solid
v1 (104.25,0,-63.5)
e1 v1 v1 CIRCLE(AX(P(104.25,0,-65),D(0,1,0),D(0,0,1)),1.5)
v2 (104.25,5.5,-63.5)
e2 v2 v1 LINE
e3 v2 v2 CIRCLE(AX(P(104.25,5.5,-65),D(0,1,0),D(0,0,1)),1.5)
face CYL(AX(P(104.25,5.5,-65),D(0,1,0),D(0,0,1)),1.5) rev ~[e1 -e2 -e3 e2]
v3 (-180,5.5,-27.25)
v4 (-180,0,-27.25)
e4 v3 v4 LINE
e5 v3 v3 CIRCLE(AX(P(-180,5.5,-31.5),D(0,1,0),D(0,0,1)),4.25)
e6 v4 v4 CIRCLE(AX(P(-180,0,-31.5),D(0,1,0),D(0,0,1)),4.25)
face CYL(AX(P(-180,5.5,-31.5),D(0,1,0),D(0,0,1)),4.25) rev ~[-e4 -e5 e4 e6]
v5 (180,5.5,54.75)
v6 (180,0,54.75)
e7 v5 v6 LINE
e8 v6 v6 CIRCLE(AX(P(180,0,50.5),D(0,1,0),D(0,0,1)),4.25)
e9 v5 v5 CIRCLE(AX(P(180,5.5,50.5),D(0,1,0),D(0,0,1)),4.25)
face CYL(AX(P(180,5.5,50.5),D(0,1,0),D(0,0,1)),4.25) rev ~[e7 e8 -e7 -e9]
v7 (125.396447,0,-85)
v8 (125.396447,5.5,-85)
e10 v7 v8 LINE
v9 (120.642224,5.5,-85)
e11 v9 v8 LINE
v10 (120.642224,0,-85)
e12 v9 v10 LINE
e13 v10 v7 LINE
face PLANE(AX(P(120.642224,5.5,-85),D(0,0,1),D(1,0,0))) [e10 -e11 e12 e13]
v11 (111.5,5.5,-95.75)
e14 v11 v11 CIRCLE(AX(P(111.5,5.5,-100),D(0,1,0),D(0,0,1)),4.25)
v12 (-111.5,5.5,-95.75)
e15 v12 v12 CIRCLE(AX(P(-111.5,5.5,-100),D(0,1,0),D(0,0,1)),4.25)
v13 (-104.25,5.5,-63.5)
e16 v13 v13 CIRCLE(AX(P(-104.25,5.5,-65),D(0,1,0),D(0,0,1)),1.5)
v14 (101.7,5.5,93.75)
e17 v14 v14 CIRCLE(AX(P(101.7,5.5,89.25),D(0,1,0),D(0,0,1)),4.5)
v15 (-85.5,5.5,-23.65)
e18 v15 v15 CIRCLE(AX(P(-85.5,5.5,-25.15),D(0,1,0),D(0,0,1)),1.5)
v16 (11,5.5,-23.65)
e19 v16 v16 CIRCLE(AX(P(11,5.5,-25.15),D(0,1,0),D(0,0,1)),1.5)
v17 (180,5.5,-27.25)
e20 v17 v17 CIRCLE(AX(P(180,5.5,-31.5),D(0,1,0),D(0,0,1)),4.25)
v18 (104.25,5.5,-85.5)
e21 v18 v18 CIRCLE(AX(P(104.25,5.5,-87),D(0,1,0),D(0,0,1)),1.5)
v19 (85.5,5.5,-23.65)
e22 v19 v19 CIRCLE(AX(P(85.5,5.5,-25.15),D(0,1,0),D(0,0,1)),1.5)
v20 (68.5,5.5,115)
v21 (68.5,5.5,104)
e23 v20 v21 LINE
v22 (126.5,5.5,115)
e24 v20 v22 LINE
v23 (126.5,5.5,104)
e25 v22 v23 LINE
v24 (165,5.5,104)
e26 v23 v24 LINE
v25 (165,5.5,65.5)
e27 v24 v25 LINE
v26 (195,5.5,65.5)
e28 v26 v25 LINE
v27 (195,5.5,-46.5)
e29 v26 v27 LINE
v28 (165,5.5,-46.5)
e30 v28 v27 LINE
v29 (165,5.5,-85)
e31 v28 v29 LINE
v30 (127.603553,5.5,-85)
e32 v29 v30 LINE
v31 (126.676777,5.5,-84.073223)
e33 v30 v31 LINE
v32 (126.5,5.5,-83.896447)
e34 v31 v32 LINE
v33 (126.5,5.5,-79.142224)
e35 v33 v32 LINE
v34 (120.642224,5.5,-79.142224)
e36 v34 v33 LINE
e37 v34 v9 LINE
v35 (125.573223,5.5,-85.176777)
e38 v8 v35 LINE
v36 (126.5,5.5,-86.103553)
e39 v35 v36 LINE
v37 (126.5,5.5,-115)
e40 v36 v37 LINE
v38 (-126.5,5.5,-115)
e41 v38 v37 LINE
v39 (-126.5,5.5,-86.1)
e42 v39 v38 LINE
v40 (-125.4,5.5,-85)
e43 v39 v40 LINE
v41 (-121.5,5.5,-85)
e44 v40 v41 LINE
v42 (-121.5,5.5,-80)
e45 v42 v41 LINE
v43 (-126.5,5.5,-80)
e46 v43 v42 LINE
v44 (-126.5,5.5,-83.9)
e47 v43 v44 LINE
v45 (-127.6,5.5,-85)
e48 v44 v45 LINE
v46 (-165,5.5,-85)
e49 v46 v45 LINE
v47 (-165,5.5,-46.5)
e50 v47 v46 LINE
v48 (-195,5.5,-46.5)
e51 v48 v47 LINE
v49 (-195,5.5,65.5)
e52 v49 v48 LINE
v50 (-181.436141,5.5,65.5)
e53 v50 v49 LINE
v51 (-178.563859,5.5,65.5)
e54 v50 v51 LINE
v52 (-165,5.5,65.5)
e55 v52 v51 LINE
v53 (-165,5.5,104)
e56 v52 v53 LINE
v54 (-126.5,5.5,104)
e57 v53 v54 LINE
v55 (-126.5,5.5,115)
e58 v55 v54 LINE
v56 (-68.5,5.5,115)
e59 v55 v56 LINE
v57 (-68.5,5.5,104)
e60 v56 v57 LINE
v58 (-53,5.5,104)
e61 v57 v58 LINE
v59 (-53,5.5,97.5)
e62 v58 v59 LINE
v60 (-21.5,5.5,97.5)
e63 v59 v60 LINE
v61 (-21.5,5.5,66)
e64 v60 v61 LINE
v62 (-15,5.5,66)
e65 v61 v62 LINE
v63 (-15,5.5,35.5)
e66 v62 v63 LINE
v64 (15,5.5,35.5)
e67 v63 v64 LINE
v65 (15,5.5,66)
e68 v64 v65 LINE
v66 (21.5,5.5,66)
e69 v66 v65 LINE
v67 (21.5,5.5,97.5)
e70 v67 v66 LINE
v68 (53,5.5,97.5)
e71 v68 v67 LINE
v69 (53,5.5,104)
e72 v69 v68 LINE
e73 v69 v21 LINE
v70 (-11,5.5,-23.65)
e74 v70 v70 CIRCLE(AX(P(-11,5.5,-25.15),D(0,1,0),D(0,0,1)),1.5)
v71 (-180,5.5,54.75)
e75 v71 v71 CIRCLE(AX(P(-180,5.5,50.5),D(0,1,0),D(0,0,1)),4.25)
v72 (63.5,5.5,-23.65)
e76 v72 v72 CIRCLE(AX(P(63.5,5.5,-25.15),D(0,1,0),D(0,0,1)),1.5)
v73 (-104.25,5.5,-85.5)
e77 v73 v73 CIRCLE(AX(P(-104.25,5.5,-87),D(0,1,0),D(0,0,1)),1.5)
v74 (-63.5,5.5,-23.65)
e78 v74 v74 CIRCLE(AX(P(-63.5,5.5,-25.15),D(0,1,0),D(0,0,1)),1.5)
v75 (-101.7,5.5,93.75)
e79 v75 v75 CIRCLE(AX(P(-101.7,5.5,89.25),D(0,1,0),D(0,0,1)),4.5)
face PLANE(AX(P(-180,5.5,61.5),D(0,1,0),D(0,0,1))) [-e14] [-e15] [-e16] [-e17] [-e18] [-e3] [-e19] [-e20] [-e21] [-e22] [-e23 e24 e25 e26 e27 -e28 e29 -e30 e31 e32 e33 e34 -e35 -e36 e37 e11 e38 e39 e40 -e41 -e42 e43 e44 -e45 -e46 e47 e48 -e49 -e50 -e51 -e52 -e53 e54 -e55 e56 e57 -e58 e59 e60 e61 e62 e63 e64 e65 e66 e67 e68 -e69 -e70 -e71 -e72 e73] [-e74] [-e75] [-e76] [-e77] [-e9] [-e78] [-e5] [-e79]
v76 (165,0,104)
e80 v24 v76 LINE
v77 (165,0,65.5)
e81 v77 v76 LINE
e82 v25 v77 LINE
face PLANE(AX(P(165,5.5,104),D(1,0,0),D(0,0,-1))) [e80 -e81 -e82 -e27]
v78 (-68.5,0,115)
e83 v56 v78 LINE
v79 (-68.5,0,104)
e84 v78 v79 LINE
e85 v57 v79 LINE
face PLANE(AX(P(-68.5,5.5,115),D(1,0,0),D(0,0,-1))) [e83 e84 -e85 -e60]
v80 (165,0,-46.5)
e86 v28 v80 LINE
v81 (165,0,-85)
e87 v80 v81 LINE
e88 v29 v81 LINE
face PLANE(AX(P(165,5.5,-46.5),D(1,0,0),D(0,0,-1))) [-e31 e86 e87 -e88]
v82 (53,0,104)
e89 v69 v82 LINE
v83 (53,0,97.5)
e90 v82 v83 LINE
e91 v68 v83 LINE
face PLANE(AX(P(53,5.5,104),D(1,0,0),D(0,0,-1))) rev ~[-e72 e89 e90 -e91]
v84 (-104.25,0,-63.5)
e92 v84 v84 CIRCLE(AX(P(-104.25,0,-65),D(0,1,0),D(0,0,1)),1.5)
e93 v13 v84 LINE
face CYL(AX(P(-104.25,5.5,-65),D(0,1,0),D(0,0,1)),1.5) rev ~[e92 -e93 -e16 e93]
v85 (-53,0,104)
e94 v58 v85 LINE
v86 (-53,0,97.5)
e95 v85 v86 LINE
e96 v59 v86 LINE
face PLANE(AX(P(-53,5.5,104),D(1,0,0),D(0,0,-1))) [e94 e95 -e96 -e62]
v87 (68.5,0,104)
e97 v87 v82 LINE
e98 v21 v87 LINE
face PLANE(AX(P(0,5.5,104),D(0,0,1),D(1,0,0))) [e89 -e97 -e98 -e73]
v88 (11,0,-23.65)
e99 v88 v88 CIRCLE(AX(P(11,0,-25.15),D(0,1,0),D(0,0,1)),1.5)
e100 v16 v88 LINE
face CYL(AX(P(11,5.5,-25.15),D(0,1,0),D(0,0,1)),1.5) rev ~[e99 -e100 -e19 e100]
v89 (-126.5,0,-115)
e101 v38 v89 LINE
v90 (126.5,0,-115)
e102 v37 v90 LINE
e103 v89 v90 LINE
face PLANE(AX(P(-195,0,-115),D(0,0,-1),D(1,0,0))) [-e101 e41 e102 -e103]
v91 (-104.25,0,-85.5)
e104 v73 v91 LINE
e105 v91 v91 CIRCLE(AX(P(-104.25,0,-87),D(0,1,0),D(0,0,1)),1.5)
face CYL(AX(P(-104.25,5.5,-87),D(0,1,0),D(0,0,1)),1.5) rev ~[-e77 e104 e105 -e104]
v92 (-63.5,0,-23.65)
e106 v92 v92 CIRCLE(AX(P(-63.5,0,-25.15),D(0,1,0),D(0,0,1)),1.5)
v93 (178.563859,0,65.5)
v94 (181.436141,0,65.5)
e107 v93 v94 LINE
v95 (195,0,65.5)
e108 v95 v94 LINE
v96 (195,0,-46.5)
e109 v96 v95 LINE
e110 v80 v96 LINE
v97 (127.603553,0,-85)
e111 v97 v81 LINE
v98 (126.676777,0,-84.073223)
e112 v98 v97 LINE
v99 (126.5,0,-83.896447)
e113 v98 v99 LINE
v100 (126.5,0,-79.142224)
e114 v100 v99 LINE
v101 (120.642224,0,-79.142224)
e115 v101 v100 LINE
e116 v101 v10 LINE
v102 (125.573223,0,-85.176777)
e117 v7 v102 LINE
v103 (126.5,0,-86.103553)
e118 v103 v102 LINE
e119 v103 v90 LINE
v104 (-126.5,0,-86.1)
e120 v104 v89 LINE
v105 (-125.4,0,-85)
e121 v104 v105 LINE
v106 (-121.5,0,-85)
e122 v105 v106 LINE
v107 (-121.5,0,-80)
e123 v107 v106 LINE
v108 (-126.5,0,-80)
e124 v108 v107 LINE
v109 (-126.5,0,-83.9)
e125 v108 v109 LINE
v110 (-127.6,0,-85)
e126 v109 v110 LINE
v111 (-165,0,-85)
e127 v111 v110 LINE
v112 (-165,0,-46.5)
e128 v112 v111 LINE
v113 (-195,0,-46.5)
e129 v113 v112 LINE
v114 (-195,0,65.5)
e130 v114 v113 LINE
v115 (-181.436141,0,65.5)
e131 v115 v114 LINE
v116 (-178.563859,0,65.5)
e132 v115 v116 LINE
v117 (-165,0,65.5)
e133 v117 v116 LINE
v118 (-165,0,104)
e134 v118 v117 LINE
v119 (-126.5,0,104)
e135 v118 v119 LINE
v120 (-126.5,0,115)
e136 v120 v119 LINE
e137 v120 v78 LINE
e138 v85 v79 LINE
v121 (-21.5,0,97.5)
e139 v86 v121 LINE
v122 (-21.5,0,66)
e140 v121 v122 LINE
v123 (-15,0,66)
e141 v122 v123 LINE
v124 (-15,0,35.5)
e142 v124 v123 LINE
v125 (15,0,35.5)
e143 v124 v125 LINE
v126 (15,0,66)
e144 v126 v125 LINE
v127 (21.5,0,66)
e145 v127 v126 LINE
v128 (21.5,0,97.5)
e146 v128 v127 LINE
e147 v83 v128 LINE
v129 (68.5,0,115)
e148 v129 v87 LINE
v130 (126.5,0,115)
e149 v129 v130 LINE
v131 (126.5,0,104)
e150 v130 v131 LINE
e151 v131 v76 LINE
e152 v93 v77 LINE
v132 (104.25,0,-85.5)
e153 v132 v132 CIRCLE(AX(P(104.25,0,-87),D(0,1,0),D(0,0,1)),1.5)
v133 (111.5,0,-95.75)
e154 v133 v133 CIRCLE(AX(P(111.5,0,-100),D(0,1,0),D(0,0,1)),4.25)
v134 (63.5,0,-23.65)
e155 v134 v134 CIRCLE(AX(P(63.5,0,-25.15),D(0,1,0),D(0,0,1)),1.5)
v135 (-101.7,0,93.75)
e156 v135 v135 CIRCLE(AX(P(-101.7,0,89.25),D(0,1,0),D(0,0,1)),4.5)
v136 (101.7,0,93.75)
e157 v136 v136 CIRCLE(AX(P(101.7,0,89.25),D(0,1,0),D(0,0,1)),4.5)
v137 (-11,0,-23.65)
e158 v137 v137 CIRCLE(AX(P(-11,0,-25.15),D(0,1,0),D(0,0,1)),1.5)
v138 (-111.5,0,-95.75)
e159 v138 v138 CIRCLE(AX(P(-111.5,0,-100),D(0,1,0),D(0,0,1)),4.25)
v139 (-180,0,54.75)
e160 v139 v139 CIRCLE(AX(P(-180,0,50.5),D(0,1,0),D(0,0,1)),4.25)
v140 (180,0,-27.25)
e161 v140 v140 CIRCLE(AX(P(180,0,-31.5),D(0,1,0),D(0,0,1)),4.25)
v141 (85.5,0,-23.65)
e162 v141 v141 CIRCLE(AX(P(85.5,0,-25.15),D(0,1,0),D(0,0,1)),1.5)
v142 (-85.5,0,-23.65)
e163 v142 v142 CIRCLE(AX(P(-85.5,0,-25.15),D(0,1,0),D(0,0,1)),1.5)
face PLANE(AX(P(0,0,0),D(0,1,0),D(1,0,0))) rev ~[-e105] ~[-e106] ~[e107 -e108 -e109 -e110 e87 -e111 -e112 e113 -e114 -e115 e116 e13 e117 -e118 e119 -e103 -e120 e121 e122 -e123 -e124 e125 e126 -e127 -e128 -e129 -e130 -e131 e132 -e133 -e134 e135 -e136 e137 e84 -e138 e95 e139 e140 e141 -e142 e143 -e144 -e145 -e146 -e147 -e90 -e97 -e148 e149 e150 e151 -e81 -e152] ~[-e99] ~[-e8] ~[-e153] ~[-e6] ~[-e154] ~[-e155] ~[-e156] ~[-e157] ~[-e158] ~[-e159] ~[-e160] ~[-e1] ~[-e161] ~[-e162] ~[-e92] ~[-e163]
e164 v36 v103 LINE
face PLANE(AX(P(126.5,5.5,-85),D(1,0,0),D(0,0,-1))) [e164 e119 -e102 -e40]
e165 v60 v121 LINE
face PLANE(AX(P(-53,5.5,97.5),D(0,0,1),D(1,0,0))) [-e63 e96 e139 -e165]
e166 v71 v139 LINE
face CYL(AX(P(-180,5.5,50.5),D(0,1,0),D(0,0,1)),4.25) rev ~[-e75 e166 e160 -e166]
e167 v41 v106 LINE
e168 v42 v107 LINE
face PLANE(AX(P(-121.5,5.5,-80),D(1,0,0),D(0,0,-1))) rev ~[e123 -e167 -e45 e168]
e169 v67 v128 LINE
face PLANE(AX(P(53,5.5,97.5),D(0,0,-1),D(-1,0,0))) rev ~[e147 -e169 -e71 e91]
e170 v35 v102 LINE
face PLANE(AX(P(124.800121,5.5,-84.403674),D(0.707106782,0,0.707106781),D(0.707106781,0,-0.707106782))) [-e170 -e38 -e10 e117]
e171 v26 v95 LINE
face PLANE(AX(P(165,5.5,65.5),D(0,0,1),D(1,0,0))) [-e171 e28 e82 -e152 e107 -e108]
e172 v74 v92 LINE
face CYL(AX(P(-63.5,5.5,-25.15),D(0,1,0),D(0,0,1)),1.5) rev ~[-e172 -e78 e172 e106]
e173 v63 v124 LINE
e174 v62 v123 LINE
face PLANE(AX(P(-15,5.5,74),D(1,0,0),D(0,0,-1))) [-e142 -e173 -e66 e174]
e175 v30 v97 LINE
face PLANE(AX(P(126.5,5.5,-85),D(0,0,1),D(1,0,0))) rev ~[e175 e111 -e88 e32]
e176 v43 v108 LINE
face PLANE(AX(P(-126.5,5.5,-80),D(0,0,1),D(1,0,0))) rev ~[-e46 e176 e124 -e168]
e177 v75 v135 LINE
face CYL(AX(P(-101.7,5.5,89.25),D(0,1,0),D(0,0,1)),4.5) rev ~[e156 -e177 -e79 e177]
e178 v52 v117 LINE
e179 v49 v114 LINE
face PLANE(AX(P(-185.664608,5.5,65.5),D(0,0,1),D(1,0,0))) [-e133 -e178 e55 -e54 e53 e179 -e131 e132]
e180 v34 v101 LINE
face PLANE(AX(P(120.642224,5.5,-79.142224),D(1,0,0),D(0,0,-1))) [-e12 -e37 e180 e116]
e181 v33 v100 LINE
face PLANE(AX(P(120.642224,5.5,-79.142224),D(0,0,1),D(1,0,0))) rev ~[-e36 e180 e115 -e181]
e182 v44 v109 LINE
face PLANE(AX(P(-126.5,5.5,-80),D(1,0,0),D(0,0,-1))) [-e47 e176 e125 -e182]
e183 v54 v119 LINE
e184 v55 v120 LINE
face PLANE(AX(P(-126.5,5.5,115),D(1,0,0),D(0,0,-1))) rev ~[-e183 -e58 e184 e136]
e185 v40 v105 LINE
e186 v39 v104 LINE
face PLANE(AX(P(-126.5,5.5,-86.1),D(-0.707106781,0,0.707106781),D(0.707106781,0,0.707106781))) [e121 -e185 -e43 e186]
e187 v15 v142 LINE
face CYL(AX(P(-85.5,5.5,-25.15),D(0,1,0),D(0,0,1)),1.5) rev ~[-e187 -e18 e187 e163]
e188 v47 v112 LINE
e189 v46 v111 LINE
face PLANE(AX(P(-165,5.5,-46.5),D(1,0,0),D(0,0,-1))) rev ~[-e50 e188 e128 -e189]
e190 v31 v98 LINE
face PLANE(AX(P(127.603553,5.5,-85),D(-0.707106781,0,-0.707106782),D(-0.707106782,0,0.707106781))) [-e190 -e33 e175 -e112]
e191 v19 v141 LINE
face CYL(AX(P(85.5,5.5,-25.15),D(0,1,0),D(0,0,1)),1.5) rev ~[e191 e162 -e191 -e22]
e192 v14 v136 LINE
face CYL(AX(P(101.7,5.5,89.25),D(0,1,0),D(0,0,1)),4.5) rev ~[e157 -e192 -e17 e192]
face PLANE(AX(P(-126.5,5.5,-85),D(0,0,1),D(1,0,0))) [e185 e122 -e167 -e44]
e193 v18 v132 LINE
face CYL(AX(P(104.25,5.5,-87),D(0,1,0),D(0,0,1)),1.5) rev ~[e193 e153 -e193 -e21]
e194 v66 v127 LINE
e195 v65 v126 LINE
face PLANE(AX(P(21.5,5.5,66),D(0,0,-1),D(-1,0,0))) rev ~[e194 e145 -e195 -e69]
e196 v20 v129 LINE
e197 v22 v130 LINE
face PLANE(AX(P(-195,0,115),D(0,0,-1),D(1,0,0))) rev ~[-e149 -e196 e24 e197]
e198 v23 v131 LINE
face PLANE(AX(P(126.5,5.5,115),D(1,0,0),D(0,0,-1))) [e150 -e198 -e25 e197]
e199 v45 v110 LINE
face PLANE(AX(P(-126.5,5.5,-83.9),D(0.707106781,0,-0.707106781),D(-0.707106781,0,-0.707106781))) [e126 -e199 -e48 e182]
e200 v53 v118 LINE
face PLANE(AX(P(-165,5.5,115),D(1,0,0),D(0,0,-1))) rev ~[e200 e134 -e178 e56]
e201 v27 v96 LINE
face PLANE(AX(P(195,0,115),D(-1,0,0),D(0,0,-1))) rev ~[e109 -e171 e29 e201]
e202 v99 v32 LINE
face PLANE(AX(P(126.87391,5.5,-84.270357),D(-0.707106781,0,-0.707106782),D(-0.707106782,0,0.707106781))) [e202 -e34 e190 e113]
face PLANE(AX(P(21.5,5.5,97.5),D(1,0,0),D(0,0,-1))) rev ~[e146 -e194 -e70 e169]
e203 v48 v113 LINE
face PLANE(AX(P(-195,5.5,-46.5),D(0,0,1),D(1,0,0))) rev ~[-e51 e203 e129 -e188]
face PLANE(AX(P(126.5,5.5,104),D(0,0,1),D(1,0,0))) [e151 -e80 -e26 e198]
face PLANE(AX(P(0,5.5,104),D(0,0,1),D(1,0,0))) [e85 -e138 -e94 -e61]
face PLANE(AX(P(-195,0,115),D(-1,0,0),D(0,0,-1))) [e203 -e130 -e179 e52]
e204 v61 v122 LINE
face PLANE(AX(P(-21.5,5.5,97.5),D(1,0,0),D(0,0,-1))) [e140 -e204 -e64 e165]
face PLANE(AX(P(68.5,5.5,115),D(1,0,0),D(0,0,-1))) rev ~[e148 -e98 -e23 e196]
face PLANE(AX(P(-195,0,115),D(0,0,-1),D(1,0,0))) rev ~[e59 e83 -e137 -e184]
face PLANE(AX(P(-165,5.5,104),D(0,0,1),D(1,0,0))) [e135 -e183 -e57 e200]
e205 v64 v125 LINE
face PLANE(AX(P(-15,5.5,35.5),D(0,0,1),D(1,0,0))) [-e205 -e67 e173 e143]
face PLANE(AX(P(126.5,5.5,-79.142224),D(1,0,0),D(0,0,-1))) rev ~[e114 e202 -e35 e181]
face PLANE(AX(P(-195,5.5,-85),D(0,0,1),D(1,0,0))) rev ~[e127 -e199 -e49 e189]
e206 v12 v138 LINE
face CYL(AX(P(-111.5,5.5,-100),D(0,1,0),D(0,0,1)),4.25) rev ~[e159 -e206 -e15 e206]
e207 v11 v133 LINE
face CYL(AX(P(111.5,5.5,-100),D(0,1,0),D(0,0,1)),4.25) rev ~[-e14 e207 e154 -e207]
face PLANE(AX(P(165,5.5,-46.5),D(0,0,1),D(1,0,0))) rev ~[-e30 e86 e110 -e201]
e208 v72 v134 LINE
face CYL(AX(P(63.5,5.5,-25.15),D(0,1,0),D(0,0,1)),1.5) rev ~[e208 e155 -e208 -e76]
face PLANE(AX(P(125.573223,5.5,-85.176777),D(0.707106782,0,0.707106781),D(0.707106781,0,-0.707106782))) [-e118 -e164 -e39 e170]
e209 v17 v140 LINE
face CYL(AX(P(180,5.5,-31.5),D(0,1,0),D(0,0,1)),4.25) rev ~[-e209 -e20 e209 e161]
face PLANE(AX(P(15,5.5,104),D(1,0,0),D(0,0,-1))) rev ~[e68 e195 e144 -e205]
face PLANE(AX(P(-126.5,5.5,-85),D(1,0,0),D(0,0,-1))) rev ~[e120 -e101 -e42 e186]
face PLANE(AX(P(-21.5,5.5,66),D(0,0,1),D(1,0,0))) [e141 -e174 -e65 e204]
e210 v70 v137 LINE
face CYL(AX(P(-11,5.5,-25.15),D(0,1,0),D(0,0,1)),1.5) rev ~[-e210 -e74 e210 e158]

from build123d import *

# Parameters (mm, degrees)
CROQUIS1_W              = 390
CROQUIS1_H              = 230
SALIENTE_EXTRUIR1_DEPTH = 5.5
CROQUIS2_W              = 30
CROQUIS2_H              = 30
CORTAR_EXTRUIR1_DEPTH   = 5.5
CROQUIS3_W              = 38.5
CROQUIS3_H              = 30
CORTAR_EXTRUIR2_DEPTH   = 5.5
CROQUIS4_W              = 30
CROQUIS4_H              = 38.5
CORTAR_EXTRUIR3_DEPTH   = 5.5
CROQUIS5_W              = 30
CROQUIS5_H              = 38.5
CORTAR_EXTRUIR4_DEPTH   = 5.5
CROQUIS6_W              = 68.5
CROQUIS6_H              = 11
CORTAR_EXTRUIR5_DEPTH   = 5.5
CROQUIS7_W              = 68.5
CROQUIS7_H              = 11
CORTAR_EXTRUIR6_DEPTH   = 5.5
CROQUIS8_W              = 30
CROQUIS8_H              = 30
CORTAR_EXTRUIR7_DEPTH   = 5.5
CROQUIS9_W              = 30
CROQUIS9_H              = 38.5
CORTAR_EXTRUIR8_DEPTH   = 5.5
CROQUIS10_R             = 4.25
CORTAR_EXTRUIR9_DEPTH   = 5.5
CORTAR_EXTRUIR10_DEPTH  = 5.5
CORTAR_EXTRUIR11_DEPTH  = 5.5
CROQUIS13_W             = 5.857775835
CROQUIS13_H             = 5.857775835
CORTAR_EXTRUIR12_DEPTH  = 5.5
CORTAR_EXTRUIR13_DEPTH  = 5.5
CORTAR_EXTRUIR14_DEPTH  = 5.5
CROQUIS16_W             = 5
CROQUIS16_H             = 5
CORTAR_EXTRUIR15_DEPTH  = 5.5
CROQUIS17_R             = 4.5
CORTAR_EXTRUIR16_DEPTH  = 10
CORTAR_EXTRUIR17_DEPTH  = 10
CROQUIS19_R             = 1.5
CORTAR_EXTRUIR19_DEPTH  = 10
CROQUIS20_W             = 30
CROQUIS20_H             = 38.5
CORTAR_EXTRUIR20_DEPTH  = 10
CROQUIS21_R             = 4.25
CORTAR_EXTRUIR21_DEPTH  = 10
CROQUIS22_R             = 4.25
SALIENTE_EXTRUIR2_DEPTH = 10
CROQUIS23_W             = 8.291515613
CROQUIS23_H             = 2.906343814
CROQUIS23_W_2           = 14.865311346
CROQUIS23_H_2           = 4.543446559
CORTAR_EXTRUIR22_DEPTH  = 10
CROQUIS24_W             = 38.5
CROQUIS24_H             = 11
CORTAR_EXTRUIR23_DEPTH  = 10
CROQUIS25_W             = 38.5
CROQUIS25_H             = 11
CORTAR_EXTRUIR24_DEPTH  = 10
CROQUIS26_W             = 403.89450598
CROQUIS26_H             = 21.330606429
CORTAR_EXTRUIR25_DEPTH  = 10


with BuildPart() as part:
    # Croquis1 → Saliente-Extruir1 (new body)
    with BuildSketch(Plane(origin=(0, 0, 0), x_dir=(1, 0, 0), z_dir=(0, 1, 0))):
        Rectangle(CROQUIS1_W, CROQUIS1_H)
    extrude(amount=SALIENTE_EXTRUIR1_DEPTH)

    # Croquis2 → Cortar-Extruir1 (cut)
    with BuildSketch(Plane(origin=(0, 5.5, 0), x_dir=(1, 0, 0), z_dir=(0, 1, 0))):
        with Locations((-180, 100)):
            Rectangle(CROQUIS2_W, CROQUIS2_H)
        with Locations((180, 100)):
            Rectangle(CROQUIS2_W, CROQUIS2_H)
    extrude(amount=-CORTAR_EXTRUIR1_DEPTH, mode=Mode.SUBTRACT)

    # Croquis3 → Cortar-Extruir2 (cut)
    with BuildSketch(Plane(origin=(0, 5.5, 0), x_dir=(1, 0, 0), z_dir=(0, 1, 0))):
        with Locations((-145.75, 100)):
            Rectangle(CROQUIS3_W, CROQUIS3_H)
        with Locations((145.75, 100)):
            Rectangle(CROQUIS3_W, CROQUIS3_H)
    extrude(amount=-CORTAR_EXTRUIR2_DEPTH, mode=Mode.SUBTRACT)

    # Croquis4 → Cortar-Extruir3 (cut)
    with BuildSketch(Plane(origin=(0, 5.5, 0), x_dir=(1, 0, 0), z_dir=(0, 1, 0))):
        with Locations((-180, 65.75)):
            Rectangle(CROQUIS4_W, CROQUIS4_H)
        with Locations((180, 65.75)):
            Rectangle(CROQUIS4_W, CROQUIS4_H)
    extrude(amount=-CORTAR_EXTRUIR3_DEPTH, mode=Mode.SUBTRACT)

    # Croquis5 → Cortar-Extruir4 (cut)
    with BuildSketch(Plane(origin=(0, 5.5, 0), x_dir=(1, 0, 0), z_dir=(0, 1, 0))):
        with Locations((-180, -95.75)):
            Rectangle(CROQUIS5_W, CROQUIS5_H)
        with Locations((180, -95.75)):
            Rectangle(CROQUIS5_W, CROQUIS5_H)
    extrude(amount=-CORTAR_EXTRUIR4_DEPTH, mode=Mode.SUBTRACT)

    # Croquis6 → Cortar-Extruir5 (cut)
    with BuildSketch(Plane(origin=(0, 5.5, 0), x_dir=(1, 0, 0), z_dir=(0, 1, 0))):
        with Locations((34.25, -109.5)):
            Rectangle(CROQUIS6_W, CROQUIS6_H)
    extrude(amount=-CORTAR_EXTRUIR5_DEPTH, mode=Mode.SUBTRACT)

    # Croquis7 → Cortar-Extruir6 (cut)
    with BuildSketch(Plane(origin=(0, 5.5, 0), x_dir=(1, 0, 0), z_dir=(0, 1, 0))):
        with Locations((-34.25, -109.5)):
            Rectangle(CROQUIS7_W, CROQUIS7_H)
    extrude(amount=-CORTAR_EXTRUIR6_DEPTH, mode=Mode.SUBTRACT)

    # Croquis8 → Cortar-Extruir7 (cut)
    with BuildSketch(Plane(origin=(0, 5.5, 0), x_dir=(1, 0, 0), z_dir=(0, 1, 0))):
        with Locations((0, -89)):
            Rectangle(CROQUIS8_W, CROQUIS8_H)
    extrude(amount=-CORTAR_EXTRUIR7_DEPTH, mode=Mode.SUBTRACT)

    # Croquis9 → Cortar-Extruir8 (cut)
    with BuildSketch(Plane(origin=(0, 5.5, 0), x_dir=(1, 0, 0), z_dir=(0, 1, 0))):
        with Locations((0, -54.75)):
            Rectangle(CROQUIS9_W, CROQUIS9_H)
    extrude(amount=-CORTAR_EXTRUIR8_DEPTH, mode=Mode.SUBTRACT)

    # Croquis10 → Cortar-Extruir9 (cut)
    with BuildSketch(Plane(origin=(0, 5.5, 0), x_dir=(1, 0, 0), z_dir=(0, 1, 0))):
        with Locations(Location((-111.5, 100, 0), (0, 0, 270))):
            Circle(CROQUIS10_R)
        with Locations(Location((111.5, 100, 0), (0, 0, 270))):
            Circle(CROQUIS10_R)
        with Locations(Location((-180, 31.5, 0), (0, 0, 270))):
            Circle(CROQUIS10_R)
        with Locations(Location((-180, -61.5, 0), (0, 0, 270))):
            Circle(CROQUIS10_R)
        with Locations(Location((180, 31.5, 0), (0, 0, 270))):
            Circle(CROQUIS10_R)
        with Locations(Location((180, -61.5, 0), (0, 0, 270))):
            Circle(CROQUIS10_R)
    extrude(amount=-CORTAR_EXTRUIR9_DEPTH, mode=Mode.SUBTRACT)

    # Croquis11 → Cortar-Extruir10 (cut)
    with BuildSketch(Plane(origin=(0, 5.5, 0), x_dir=(1, 0, 0), z_dir=(0, 1, 0))):
        Polygon((126.5, 85), (127.25, 85), (126.5, 84.25), (125.75, 85), (126.5, 85.75), align=None)
    extrude(amount=-CORTAR_EXTRUIR10_DEPTH, mode=Mode.SUBTRACT)

    # Croquis12 → Cortar-Extruir11 (cut)
    with BuildSketch(Plane(origin=(0, 5.5, 0), x_dir=(1, 0, 0), z_dir=(0, 1, 0))):
        Polygon((125.75, 85), (125.573223305, 85.176776695), (126.5, 86.103553391), (127.603553391, 85), (126.676776695, 84.073223305), align=None)
    extrude(amount=-CORTAR_EXTRUIR11_DEPTH, mode=Mode.SUBTRACT)

    # Croquis13 → Cortar-Extruir12 (cut)
    with BuildSketch(Plane(origin=(0, 5.5, 0), x_dir=(1, 0, 0), z_dir=(0, 1, 0))):
        with Locations((123.571112083, 82.071112083)):
            Rectangle(CROQUIS13_W, CROQUIS13_H)
    extrude(amount=-CORTAR_EXTRUIR12_DEPTH, mode=Mode.SUBTRACT)

    # Croquis14 → Cortar-Extruir13 (cut)
    with BuildSketch(Plane(origin=(0, 5.5, 0), x_dir=(1, 0, 0), z_dir=(0, 1, 0))):
        Polygon((125.770357071, 85.373910462), (126.873910462, 84.270357071), (125.903673954, 83.300120564), (124.800120564, 84.403673954), align=None)
    extrude(amount=-CORTAR_EXTRUIR13_DEPTH, mode=Mode.SUBTRACT)

    # Croquis15 → Cortar-Extruir14 (cut)
    with BuildSketch(Plane(origin=(0, 5.5, 0), x_dir=(1, 0, 0), z_dir=(0, 1, 0))):
        Polygon((-126.5, 85), (-126.5, 86.1), (-125.4, 85), (-126.5, 83.9), (-127.6, 85), align=None)
    extrude(amount=-CORTAR_EXTRUIR14_DEPTH, mode=Mode.SUBTRACT)

    # Croquis16 → Cortar-Extruir15 (cut)
    with BuildSketch(Plane(origin=(0, 5.5, 0), x_dir=(1, 0, 0), z_dir=(0, 1, 0))):
        with Locations((-124, 82.5)):
            Rectangle(CROQUIS16_W, CROQUIS16_H)
    extrude(amount=-CORTAR_EXTRUIR15_DEPTH, mode=Mode.SUBTRACT)

    # Croquis17 → Cortar-Extruir16 (cut)
    with BuildSketch(Plane(origin=(0, 5.5, 0), x_dir=(1, 0, 0), z_dir=(0, 1, 0))):
        with Locations(Location((-101.7, -89.25, 0), (0, 0, 270))):
            Circle(CROQUIS17_R)
        with Locations(Location((101.7, -89.25, 0), (0, 0, 270))):
            Circle(CROQUIS17_R)
    extrude(amount=-CORTAR_EXTRUIR16_DEPTH, mode=Mode.SUBTRACT)

    # Croquis18 → Cortar-Extruir17 (cut)
    with BuildSketch(Plane(origin=(0, 5.5, 0), x_dir=(1, 0, 0), z_dir=(0, 1, 0))):
        Polygon((-15, -104), (-53, -104), (-53, -97.5), (-21.5, -97.5), (-21.5, -66), (-15, -66), align=None)
        Polygon((15, -66), (15, -104), (53, -104), (53, -97.5), (21.5, -97.5), (21.5, -66), align=None)
    extrude(amount=-CORTAR_EXTRUIR17_DEPTH, mode=Mode.SUBTRACT)

    # Croquis19 → Cortar-Extruir19 (cut)
    with BuildSketch(Plane(origin=(0, 5.5, 0), x_dir=(1, 0, 0), z_dir=(0, 1, 0))):
        with Locations(Location((-85.5, 25.15, 0), (0, 0, 270))):
            Circle(CROQUIS19_R)
        with Locations(Location((-63.5, 25.15, 0), (0, 0, 270))):
            Circle(CROQUIS19_R)
        with Locations(Location((-11, 25.15, 0), (0, 0, 270))):
            Circle(CROQUIS19_R)
        with Locations(Location((11, 25.15, 0), (0, 0, 270))):
            Circle(CROQUIS19_R)
        with Locations(Location((63.5, 25.15, 0), (0, 0, 270))):
            Circle(CROQUIS19_R)
        with Locations(Location((85.5, 25.15, 0), (0, 0, 270))):
            Circle(CROQUIS19_R)
        with Locations(Location((-104.25, 87, 0), (0, 0, 270))):
            Circle(CROQUIS19_R)
        with Locations(Location((-104.25, 65, 0), (0, 0, 270))):
            Circle(CROQUIS19_R)
        with Locations(Location((104.25, 87, 0), (0, 0, 270))):
            Circle(CROQUIS19_R)
        with Locations(Location((104.25, 65, 0), (0, 0, 270))):
            Circle(CROQUIS19_R)
    extrude(amount=-CORTAR_EXTRUIR19_DEPTH, mode=Mode.SUBTRACT)

    # Croquis20 → Cortar-Extruir20 (cut)
    with BuildSketch(Plane(origin=(0, 5.5, 0), x_dir=(1, 0, 0), z_dir=(0, 1, 0))):
        with Locations((180, -84.75)):
            Rectangle(CROQUIS20_W, CROQUIS20_H)
        with Locations((-180, -84.75)):
            Rectangle(CROQUIS20_W, CROQUIS20_H)
    extrude(amount=-CORTAR_EXTRUIR20_DEPTH, mode=Mode.SUBTRACT)

    # Croquis21 → Cortar-Extruir21 (cut)
    with BuildSketch(Plane(origin=(0, 5.5, 0), x_dir=(1, 0, 0), z_dir=(0, 1, 0))):
        with Locations(Location((180, -50.5, 0), (0, 0, 270))):
            Circle(CROQUIS21_R)
        with Locations(Location((-180, -50.5, 0), (0, 0, 270))):
            Circle(CROQUIS21_R)
    extrude(amount=-CORTAR_EXTRUIR21_DEPTH, mode=Mode.SUBTRACT)

    # Croquis22 → Saliente-Extruir2 (add)
    with BuildSketch(Plane(origin=(0, 5.5, 0), x_dir=(1, 0, 0), z_dir=(0, 1, 0))):
        with Locations(Location((-180, -61.5, 0), (0, 0, 270))):
            Circle(CROQUIS22_R)
        with Locations(Location((180, -61.5, 0), (0, 0, 270))):
            Circle(CROQUIS22_R)
    extrude(amount=-SALIENTE_EXTRUIR2_DEPTH)

    # Croquis23 → Cortar-Extruir22 (cut)
    with BuildSketch(Plane(origin=(0, 5.5, 0), x_dir=(1, 0, 0), z_dir=(0, 1, 0))):
        with Locations((180.153411618, -66.953171907)):
            Rectangle(CROQUIS23_W, CROQUIS23_H)
        with Locations((-178.231952533, -67.77172328)):
            Rectangle(CROQUIS23_W_2, CROQUIS23_H_2)
    extrude(amount=-CORTAR_EXTRUIR22_DEPTH, mode=Mode.SUBTRACT)

    # Croquis24 → Cortar-Extruir23 (cut)
    with BuildSketch(Plane(origin=(0, 5.5, 0), x_dir=(1, 0, 0), z_dir=(0, 1, 0))):
        with Locations((145.75, -109.5)):
            Rectangle(CROQUIS24_W, CROQUIS24_H)
    extrude(amount=-CORTAR_EXTRUIR23_DEPTH, mode=Mode.SUBTRACT)

    # Croquis25 → Cortar-Extruir24 (cut)
    with BuildSketch(Plane(origin=(0, 5.5, 0), x_dir=(1, 0, 0), z_dir=(0, 1, 0))):
        with Locations((-145.75, -109.5)):
            Rectangle(CROQUIS25_W, CROQUIS25_H)
    extrude(amount=-CORTAR_EXTRUIR24_DEPTH, mode=Mode.SUBTRACT)

    # Croquis26 → Cortar-Extruir25 (cut)
    with BuildSketch(Plane.XY.offset(65.5)):
        with Locations((6.94725299, -10.665303215)):
            Rectangle(CROQUIS26_W, CROQUIS26_H)
    extrude(amount=-CORTAR_EXTRUIR25_DEPTH, mode=Mode.SUBTRACT)


solid = part.part
